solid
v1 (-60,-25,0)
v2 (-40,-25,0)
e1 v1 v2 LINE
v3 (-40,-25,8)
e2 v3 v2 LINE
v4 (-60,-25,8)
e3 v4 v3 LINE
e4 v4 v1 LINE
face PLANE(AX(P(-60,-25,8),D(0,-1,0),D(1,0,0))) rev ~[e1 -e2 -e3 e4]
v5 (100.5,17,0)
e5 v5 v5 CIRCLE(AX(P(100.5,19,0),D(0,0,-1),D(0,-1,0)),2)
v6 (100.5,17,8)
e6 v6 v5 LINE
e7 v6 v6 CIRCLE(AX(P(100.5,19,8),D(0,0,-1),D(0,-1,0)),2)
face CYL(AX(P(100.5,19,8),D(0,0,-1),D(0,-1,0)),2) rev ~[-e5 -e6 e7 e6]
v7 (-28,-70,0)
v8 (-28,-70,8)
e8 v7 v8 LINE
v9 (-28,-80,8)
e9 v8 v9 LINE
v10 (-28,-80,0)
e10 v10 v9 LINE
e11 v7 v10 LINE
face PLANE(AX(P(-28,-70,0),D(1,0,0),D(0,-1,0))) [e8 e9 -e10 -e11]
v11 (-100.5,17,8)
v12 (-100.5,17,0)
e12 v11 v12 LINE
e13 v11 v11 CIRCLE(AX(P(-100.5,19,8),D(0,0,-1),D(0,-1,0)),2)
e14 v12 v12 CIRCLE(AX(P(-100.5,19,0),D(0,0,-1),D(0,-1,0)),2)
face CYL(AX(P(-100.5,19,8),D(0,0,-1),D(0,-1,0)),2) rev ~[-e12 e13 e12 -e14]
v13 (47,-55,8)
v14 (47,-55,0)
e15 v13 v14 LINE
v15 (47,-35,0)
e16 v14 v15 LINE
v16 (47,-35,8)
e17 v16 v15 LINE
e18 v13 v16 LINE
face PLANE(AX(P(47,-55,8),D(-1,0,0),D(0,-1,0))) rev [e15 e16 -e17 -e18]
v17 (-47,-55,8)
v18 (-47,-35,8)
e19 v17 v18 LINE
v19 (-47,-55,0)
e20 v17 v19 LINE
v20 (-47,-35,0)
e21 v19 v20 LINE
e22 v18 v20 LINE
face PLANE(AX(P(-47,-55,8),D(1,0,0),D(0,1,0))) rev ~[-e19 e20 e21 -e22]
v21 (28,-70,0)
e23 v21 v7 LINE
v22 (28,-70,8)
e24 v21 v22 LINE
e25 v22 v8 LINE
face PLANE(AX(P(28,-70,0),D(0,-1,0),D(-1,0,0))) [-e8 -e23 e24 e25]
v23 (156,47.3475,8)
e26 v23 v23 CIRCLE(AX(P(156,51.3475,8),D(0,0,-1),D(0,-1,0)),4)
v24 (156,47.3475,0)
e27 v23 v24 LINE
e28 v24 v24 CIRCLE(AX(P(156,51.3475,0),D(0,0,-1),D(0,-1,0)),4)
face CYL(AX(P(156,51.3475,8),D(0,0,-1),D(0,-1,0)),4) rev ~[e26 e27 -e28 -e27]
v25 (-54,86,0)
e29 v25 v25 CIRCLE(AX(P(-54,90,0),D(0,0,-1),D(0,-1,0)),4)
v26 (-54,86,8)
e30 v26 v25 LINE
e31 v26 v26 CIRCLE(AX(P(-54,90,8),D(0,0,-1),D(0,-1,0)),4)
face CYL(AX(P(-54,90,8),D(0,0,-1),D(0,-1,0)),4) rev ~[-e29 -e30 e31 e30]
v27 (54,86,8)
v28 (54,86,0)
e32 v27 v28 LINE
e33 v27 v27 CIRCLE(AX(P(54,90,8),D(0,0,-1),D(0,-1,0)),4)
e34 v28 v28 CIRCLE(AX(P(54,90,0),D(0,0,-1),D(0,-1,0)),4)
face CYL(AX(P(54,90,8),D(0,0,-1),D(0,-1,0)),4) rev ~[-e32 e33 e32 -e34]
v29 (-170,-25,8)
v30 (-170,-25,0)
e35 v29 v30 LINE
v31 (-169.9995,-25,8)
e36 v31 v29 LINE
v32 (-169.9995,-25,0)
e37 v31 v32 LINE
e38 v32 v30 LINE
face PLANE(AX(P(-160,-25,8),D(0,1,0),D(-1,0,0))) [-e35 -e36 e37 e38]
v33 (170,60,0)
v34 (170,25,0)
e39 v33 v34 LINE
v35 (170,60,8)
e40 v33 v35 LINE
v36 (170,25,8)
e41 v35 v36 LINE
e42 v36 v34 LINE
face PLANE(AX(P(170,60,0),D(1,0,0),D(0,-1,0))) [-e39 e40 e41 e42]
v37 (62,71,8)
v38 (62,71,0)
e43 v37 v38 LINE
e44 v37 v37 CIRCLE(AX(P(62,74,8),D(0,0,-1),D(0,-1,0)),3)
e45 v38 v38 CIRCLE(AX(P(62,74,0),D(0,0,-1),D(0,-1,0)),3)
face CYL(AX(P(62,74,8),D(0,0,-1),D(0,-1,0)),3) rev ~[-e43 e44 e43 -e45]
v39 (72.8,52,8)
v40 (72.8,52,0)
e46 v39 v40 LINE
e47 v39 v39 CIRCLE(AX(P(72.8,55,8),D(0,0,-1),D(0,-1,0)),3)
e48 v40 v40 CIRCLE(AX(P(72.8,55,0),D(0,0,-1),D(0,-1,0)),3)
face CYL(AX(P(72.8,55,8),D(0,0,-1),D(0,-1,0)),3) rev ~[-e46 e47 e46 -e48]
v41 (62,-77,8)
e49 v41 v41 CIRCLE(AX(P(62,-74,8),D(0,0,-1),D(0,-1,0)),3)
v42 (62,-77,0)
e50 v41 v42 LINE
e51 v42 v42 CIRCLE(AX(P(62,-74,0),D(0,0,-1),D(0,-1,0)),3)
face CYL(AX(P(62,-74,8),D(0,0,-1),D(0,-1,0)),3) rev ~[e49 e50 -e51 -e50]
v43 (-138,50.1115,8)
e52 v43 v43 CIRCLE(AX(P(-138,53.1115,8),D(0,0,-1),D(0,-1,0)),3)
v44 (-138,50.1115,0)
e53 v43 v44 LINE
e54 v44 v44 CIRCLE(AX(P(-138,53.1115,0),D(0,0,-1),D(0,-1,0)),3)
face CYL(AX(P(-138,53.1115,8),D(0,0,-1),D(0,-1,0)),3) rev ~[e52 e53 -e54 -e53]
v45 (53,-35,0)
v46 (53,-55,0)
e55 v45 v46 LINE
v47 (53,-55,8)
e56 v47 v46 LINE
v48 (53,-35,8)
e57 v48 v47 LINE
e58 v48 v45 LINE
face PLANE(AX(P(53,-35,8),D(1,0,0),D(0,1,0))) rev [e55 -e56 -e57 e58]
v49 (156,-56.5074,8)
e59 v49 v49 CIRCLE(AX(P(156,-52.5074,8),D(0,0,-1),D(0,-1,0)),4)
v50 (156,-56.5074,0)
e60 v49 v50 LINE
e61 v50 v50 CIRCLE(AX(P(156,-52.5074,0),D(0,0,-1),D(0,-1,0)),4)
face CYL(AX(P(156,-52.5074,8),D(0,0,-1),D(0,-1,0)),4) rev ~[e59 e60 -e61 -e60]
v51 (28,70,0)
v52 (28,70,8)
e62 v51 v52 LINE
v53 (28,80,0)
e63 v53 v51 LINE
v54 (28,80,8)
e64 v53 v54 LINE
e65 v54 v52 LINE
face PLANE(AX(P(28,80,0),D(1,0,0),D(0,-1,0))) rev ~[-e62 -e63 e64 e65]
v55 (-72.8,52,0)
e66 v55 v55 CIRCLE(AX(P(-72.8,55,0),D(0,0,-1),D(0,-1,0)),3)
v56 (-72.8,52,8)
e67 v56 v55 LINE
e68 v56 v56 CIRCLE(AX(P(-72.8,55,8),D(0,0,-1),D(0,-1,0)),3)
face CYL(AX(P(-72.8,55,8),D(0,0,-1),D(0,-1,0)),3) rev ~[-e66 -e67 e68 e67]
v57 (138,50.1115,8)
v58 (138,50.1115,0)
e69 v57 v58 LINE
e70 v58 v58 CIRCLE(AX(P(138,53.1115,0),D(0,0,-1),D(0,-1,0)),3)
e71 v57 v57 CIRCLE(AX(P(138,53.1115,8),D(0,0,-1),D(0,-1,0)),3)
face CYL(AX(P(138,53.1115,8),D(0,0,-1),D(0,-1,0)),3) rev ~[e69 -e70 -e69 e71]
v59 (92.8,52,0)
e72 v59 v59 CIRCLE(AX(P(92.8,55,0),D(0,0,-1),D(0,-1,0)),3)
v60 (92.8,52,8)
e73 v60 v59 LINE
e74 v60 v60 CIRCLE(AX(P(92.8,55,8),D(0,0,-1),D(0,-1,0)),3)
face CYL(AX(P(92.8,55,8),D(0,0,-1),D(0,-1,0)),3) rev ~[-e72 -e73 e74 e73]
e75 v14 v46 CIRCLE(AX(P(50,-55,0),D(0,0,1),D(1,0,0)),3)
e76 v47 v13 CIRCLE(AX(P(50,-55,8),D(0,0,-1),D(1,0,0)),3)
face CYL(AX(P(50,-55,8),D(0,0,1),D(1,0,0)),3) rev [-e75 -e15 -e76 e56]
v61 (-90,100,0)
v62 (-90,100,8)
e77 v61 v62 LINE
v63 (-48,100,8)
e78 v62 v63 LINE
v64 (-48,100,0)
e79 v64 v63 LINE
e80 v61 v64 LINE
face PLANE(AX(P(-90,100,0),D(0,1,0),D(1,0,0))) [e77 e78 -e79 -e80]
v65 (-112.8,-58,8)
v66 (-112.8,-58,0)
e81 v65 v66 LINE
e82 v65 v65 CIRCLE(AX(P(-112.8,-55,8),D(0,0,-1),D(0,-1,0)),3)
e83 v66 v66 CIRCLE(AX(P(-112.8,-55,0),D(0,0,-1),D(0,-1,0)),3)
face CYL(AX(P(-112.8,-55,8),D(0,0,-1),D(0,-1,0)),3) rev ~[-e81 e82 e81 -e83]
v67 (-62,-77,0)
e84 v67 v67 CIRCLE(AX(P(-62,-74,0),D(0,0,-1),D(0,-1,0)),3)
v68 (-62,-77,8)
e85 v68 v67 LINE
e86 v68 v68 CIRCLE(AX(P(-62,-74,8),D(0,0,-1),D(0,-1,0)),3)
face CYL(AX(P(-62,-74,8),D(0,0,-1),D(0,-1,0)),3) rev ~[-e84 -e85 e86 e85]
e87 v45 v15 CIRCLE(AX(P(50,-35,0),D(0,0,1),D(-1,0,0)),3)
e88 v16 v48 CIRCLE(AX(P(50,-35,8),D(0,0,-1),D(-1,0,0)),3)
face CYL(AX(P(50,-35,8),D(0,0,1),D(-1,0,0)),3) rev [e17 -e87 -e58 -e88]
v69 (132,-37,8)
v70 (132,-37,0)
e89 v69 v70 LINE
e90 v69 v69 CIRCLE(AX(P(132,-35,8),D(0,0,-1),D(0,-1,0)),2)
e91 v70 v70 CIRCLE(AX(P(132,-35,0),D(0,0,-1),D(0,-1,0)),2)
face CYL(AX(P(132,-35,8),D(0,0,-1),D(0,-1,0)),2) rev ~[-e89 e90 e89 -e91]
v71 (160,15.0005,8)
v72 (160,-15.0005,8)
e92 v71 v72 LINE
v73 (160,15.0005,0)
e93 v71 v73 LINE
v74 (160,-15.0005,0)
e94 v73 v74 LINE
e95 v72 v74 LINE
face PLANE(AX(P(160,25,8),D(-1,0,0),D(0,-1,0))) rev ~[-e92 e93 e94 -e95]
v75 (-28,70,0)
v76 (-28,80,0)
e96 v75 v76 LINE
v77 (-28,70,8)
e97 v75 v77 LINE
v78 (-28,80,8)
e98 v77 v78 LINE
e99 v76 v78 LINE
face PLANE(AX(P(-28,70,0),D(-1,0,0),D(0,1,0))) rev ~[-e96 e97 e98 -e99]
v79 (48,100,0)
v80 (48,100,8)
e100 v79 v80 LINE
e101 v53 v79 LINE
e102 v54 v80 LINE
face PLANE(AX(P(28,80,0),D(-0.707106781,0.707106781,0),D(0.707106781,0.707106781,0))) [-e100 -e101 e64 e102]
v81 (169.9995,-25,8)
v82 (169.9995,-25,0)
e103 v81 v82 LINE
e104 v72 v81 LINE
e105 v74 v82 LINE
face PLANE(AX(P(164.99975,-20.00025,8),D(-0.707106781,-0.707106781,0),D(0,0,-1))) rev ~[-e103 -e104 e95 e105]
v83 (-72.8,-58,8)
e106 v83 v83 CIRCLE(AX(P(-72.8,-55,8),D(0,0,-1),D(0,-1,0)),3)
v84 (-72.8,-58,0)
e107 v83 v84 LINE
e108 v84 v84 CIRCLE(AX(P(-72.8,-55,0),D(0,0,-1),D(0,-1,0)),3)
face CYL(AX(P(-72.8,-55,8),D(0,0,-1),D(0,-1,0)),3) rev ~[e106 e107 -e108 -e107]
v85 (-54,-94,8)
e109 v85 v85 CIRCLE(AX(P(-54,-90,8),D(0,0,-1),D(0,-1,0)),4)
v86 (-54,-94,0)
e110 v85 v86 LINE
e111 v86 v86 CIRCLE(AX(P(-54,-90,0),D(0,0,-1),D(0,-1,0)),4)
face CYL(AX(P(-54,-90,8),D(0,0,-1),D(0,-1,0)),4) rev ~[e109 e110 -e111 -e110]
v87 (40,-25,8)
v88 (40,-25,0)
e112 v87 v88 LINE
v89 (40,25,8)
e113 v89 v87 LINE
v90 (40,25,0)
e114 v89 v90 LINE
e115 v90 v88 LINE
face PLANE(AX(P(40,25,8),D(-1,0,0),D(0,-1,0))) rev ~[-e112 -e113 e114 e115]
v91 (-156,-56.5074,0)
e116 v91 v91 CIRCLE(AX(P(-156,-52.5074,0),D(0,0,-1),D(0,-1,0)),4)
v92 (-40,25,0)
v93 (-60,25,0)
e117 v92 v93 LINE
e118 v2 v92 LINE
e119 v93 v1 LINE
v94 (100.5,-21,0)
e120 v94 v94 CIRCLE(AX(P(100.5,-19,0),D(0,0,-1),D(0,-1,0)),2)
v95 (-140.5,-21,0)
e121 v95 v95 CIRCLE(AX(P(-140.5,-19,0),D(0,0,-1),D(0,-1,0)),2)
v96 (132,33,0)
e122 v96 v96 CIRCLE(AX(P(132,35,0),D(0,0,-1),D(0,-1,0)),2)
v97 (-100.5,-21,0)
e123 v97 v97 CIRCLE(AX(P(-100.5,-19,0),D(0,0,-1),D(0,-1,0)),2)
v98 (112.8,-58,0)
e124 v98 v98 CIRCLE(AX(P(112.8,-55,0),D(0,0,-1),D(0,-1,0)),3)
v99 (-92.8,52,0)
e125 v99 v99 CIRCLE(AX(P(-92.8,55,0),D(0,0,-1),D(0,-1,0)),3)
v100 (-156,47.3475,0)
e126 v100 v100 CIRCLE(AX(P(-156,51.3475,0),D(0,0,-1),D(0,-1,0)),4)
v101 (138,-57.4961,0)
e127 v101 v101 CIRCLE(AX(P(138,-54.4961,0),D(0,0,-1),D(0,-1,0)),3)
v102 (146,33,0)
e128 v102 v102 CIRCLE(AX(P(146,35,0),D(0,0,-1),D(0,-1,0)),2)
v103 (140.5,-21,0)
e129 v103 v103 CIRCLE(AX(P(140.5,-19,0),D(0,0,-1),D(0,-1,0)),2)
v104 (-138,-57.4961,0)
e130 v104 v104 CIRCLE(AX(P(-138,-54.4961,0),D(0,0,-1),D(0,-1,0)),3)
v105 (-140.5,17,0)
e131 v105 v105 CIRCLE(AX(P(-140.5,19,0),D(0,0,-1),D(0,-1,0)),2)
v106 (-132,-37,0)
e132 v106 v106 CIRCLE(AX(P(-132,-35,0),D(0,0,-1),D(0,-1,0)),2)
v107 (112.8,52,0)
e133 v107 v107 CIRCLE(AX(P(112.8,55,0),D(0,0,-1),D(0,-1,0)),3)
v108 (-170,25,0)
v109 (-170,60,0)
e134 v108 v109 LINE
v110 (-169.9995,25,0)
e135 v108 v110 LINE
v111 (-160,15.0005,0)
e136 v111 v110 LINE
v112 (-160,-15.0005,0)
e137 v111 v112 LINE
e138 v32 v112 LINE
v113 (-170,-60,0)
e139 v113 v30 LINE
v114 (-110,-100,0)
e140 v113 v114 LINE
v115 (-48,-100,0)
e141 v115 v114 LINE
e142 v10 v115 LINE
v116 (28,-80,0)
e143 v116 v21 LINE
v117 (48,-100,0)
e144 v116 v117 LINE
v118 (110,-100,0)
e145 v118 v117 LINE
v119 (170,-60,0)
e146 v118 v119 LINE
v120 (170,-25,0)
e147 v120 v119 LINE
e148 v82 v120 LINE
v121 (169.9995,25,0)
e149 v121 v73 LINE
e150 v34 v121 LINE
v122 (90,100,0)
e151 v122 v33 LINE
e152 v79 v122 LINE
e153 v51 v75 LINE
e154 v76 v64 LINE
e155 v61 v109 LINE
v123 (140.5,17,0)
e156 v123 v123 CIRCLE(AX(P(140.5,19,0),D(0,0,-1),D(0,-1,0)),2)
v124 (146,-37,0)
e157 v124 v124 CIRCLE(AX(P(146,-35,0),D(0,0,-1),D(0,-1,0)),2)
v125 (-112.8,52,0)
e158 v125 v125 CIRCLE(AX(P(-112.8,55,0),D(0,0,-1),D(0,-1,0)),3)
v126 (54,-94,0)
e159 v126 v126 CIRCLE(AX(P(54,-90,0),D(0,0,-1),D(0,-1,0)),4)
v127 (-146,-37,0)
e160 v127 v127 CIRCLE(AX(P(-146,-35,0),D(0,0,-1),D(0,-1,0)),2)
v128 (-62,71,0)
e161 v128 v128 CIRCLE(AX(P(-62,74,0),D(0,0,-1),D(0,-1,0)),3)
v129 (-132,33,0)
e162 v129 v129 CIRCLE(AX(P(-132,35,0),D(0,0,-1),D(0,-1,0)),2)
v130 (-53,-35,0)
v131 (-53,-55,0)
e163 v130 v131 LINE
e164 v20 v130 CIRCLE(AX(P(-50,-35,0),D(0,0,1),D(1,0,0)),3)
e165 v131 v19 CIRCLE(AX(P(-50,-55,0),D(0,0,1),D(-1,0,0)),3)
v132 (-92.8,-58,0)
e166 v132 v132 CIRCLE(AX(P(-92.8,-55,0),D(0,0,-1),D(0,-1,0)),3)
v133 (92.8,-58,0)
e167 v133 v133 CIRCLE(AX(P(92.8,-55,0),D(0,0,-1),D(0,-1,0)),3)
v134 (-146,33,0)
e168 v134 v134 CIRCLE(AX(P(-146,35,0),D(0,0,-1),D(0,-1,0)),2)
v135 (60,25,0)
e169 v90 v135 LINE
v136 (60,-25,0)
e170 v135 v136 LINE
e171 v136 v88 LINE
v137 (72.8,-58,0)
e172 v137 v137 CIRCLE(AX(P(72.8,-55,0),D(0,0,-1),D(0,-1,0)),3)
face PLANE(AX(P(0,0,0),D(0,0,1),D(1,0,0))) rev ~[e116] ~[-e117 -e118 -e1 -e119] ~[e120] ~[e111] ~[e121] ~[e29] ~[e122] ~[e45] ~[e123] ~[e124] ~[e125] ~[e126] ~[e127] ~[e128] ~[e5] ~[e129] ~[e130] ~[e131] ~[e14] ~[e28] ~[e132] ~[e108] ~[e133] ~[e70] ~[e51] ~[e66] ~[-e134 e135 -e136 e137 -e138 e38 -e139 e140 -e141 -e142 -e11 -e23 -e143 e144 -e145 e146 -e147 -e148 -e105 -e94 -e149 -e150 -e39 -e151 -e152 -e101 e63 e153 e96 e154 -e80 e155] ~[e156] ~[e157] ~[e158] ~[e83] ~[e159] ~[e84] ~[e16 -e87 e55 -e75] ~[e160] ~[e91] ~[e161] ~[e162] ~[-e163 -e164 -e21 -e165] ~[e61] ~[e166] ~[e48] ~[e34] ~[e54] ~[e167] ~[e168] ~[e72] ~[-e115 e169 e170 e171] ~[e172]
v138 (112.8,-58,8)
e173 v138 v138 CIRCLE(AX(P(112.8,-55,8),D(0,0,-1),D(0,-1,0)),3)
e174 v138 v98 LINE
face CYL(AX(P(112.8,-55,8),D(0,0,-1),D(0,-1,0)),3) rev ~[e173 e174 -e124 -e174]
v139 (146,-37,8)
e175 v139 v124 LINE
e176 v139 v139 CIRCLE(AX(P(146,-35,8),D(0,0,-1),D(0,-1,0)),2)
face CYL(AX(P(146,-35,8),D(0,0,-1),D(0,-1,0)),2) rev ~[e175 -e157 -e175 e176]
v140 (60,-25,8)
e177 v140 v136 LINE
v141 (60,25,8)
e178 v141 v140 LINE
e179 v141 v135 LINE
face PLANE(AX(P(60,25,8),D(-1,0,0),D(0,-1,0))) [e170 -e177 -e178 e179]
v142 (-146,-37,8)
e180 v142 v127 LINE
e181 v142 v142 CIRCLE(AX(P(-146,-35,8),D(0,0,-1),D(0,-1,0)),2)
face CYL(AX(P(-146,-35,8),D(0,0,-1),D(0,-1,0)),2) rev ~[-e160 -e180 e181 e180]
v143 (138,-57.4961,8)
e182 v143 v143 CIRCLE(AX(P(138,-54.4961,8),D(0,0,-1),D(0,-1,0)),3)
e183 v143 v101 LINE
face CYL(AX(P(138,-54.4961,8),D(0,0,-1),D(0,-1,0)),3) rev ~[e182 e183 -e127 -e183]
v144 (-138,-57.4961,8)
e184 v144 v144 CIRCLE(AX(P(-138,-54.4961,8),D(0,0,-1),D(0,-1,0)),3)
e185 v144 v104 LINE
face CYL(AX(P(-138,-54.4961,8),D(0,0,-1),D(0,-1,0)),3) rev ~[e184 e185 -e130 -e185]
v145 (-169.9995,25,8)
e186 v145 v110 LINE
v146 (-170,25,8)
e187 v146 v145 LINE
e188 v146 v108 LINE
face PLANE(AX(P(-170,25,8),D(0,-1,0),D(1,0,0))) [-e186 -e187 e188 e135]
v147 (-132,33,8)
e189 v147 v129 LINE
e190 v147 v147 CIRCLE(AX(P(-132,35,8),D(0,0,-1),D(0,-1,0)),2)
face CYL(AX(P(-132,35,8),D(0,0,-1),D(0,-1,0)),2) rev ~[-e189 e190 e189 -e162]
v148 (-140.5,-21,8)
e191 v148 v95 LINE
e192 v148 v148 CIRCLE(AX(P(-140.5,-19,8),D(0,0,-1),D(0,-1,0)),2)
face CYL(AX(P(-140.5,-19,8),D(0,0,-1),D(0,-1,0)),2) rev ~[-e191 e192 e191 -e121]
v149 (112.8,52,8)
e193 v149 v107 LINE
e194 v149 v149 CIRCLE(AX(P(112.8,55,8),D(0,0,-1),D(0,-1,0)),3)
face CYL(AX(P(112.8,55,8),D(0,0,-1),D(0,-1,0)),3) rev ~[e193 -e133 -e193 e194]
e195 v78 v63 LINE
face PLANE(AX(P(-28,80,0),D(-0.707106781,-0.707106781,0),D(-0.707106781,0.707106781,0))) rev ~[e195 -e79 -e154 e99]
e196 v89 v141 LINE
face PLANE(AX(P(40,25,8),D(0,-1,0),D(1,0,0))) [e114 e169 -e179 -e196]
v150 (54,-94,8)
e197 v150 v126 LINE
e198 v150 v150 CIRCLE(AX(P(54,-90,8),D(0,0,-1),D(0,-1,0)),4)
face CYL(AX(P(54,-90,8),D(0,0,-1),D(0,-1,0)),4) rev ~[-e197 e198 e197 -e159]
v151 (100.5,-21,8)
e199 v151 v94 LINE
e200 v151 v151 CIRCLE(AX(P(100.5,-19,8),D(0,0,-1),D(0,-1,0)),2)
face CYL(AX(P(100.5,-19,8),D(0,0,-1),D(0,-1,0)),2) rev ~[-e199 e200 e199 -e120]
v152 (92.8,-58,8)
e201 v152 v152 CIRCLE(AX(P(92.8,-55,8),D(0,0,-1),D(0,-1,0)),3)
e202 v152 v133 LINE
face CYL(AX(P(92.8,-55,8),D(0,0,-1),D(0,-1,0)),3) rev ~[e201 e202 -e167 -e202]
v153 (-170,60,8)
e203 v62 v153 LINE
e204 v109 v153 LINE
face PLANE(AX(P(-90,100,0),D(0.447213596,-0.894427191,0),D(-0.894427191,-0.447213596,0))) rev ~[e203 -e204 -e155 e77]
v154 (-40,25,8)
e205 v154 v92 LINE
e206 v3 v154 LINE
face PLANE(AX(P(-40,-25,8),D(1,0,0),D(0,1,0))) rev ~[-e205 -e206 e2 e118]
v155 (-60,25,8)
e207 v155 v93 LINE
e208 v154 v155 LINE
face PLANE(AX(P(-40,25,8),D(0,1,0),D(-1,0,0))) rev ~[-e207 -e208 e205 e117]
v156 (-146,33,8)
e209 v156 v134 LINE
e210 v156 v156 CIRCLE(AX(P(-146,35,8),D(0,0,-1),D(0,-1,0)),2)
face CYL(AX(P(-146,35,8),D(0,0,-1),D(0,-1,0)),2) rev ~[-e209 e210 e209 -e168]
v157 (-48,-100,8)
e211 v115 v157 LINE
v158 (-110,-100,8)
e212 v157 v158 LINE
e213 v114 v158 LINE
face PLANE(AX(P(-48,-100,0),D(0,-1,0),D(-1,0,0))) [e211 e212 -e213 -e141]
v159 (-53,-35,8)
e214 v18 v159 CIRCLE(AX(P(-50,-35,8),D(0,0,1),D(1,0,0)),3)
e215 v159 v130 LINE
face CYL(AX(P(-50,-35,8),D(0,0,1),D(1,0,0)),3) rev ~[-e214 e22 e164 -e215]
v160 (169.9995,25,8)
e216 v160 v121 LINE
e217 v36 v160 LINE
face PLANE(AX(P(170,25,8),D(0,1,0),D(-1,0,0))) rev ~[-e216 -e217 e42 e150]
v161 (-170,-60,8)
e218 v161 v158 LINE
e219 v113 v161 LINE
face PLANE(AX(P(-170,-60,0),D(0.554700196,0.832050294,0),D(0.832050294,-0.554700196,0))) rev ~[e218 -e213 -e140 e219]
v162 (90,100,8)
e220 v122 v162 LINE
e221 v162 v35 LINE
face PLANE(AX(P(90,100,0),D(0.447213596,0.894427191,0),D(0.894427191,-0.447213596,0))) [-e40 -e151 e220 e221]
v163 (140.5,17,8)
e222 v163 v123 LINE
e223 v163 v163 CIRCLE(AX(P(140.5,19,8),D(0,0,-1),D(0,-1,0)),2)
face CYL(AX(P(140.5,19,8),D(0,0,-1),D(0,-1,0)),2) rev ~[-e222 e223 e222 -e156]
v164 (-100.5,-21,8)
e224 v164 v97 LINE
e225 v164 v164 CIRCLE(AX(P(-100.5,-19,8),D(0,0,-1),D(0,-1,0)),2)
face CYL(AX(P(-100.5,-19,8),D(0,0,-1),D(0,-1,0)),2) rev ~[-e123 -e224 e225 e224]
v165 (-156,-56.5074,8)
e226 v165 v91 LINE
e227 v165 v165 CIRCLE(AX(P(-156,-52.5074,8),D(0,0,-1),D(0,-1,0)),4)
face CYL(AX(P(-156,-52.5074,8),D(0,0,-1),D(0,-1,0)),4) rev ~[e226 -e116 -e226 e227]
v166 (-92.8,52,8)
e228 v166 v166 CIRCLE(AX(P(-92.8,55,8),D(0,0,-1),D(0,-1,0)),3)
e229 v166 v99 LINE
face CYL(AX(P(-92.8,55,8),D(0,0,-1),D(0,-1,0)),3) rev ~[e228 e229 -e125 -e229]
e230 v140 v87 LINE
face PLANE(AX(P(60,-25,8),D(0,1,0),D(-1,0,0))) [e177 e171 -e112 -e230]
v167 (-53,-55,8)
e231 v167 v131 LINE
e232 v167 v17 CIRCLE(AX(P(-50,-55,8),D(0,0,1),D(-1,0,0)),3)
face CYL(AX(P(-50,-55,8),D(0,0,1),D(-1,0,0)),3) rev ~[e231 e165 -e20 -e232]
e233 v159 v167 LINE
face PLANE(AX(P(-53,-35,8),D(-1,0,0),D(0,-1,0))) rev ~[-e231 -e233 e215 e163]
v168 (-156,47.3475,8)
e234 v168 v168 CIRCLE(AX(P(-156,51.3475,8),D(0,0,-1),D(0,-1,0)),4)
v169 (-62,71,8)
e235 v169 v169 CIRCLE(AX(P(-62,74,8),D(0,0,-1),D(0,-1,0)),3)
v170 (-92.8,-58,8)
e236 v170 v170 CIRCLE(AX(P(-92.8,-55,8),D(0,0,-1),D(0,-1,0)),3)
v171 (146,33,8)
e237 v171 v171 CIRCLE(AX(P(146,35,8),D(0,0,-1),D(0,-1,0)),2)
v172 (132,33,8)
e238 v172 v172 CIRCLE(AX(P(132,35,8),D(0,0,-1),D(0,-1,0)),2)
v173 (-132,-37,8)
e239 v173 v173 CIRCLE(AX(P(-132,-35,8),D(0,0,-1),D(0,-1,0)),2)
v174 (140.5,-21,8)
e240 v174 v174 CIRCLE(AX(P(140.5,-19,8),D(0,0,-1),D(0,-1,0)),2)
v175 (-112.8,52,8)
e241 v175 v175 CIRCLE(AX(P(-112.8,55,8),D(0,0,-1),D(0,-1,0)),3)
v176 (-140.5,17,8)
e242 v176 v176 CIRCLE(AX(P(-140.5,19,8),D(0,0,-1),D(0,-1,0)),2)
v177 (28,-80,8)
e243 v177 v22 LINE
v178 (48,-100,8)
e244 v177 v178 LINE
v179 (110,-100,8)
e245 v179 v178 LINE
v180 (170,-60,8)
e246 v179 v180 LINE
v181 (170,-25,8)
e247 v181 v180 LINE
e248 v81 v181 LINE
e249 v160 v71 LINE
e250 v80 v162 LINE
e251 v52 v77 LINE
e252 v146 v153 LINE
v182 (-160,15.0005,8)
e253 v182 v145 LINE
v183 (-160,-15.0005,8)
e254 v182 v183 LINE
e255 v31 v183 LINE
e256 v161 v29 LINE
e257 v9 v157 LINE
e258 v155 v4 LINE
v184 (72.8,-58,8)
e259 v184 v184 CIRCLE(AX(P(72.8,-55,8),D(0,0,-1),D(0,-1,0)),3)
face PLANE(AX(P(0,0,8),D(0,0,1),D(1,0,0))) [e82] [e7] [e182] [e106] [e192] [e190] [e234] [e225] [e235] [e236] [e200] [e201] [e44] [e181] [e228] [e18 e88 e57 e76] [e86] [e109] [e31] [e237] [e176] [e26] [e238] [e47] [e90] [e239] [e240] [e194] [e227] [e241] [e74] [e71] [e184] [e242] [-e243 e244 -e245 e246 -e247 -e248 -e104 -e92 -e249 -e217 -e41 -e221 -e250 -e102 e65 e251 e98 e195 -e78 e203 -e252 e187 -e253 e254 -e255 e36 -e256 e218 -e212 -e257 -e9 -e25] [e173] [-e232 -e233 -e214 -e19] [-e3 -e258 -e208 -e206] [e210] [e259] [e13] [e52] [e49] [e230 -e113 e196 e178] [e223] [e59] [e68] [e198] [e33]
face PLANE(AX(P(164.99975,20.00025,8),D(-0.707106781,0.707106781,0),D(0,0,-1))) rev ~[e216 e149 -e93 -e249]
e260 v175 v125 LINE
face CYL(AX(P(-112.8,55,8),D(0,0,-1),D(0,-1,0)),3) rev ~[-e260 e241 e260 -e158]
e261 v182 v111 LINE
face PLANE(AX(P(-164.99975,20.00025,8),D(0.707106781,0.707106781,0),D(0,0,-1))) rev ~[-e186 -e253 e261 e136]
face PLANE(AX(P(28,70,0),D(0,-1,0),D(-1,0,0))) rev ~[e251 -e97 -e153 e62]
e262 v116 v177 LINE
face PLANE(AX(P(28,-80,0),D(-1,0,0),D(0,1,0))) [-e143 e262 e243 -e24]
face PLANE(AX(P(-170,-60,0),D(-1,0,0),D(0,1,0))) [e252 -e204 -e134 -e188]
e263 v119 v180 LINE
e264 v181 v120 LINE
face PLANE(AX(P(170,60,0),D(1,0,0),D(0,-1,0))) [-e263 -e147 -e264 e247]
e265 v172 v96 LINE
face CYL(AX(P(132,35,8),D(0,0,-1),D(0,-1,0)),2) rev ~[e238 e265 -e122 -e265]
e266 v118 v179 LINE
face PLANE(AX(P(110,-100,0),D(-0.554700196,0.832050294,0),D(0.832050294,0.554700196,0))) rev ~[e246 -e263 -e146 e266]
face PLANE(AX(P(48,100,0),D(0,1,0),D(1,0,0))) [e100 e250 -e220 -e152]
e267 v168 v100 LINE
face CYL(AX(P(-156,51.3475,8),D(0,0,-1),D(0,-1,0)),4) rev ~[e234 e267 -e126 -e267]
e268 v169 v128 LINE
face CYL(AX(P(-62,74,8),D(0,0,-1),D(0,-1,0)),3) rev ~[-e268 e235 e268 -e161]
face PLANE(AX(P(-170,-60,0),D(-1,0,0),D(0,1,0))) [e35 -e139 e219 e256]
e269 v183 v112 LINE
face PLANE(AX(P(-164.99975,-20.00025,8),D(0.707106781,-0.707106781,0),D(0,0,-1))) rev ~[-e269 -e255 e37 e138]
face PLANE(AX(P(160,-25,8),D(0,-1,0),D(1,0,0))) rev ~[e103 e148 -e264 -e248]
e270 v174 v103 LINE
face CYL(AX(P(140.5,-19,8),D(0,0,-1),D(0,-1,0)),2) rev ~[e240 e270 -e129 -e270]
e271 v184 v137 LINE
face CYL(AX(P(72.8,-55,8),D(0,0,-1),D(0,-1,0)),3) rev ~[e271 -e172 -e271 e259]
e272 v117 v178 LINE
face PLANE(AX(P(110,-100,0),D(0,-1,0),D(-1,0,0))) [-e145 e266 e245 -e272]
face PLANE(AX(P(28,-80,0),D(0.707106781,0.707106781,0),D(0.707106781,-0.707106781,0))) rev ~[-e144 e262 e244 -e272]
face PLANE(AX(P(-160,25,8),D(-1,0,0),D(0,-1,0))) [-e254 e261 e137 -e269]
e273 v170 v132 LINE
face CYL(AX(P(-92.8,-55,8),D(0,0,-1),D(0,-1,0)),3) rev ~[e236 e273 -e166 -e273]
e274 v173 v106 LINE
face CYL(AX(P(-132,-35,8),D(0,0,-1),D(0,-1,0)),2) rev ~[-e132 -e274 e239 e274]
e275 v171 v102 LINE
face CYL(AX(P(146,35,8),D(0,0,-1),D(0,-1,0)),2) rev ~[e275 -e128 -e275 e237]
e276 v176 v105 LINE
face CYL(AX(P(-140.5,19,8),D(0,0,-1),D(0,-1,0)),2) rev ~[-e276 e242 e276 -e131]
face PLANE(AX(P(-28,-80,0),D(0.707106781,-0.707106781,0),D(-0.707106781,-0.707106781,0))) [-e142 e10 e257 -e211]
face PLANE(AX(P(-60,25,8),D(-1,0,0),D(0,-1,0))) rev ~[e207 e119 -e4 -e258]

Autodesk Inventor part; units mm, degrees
ref_plane "YZ Plane" through (0, 0, 0) normal (1, 0, 0) x (0, 1, 0)
ref_plane "XZ Plane" through (0, 0, 0) normal (0, 1, 0) x (-1, 0, 0)
ref_plane "XY Plane" through (0, 0, 0) normal (0, 0, 1) x (1, 0, 0)
sketch "Esquisse1" plane through (0, 0, 0) normal (0, 0, 1) x (1, 0, 0)
  line L0 (-170, -60) -> (-170, 60)
  line L1 (170, 60) -> (170, -60)
  line L2 (170, -100) -> (-170, 100) construction
  line L3 (-170, -100) -> (170, 100) construction
  line L4 (-90, 100) -> (-170, 60)
  line L5 (90, 100) -> (170, 60)
  line L6 (-170, -60) -> (-110, -100)
  line L7 (110, -100) -> (170, -60)
  line L8 (48, 100) -> (90, 100)
  line L9 (52, 0) -> (-69, 0)
  line L10 (28, -80) -> (28, -70)
  line L11 (28, -70) -> (-28, -70)
  line L12 (-28, -70) -> (-28, -80)
  line L13 (-28, -80) -> (-48, -100)
  line L14 (28, -80) -> (48, -100)
  line L15 (110, -100) -> (48, -100)
  line L16 (-48, -100) -> (-110, -100)
  line L17 (-28, 70) -> (-28, 80)
  line L18 (-28, 80) -> (-48, 100)
  line L19 (28, 70) -> (-28, 70)
  line L20 (28, 80) -> (28, 70)
  line L21 (28, 80) -> (48, 100)
  line L22 (-90, 100) -> (-48, 100)
  line L23 (48, 100) -> (90, 100)
  point P0 (0, 0)
  dimension "d2" = 80
  dimension "d3" = 40
  dimension "d4" = 80
  dimension "d5" = 40
  dimension "d6" = 40
  dimension "d7" = 60
  dimension "d8" = 60
  dimension "d9" = 40
extrude "Plaque" add sketch "Esquisse1" along normal blind 8
sketch "Esquisse2" plane through (0, 0, 8) normal (0, 0, 1) x (1, 0, 0)
  circle A0 centre (-146, 35) radius 2
  circle A1 centre (-132, 35) radius 2
  circle A2 centre (-146, -35) radius 2
  circle A3 centre (-132, -35) radius 2
  line L0 (-170, 60) -> (-170, -60) projected
  line L1 (0, 25.5561) -> (0, -26.1527)
  circle A4 centre (146, 35) radius 2
  circle A5 centre (132, 35) radius 2
  circle A6 centre (146, -35) radius 2
  circle A7 centre (132, -35) radius 2
  point P0 (0, 0)
  dimension "d12" = 4
  dimension "d13" = 4
  dimension "d14" = 4
  dimension "d15" = 4
  dimension "d16" = 14
  dimension "d17" = 14
  dimension "d18" = 24
  dimension "d19" = 24
  dimension "d20" = 35
  dimension "d21" = 35
  dimension "d22" = 35
  dimension "d23" = 35
hole "Fixation_Encodeur" at (-132, 35, 8) at (-146, 35, 8) at (-146, -35, 8) at (-132, -35, 8) at (132, 35, 8) at (146, 35, 8) at (146, -35, 8) at (132, -35, 8) direction (0, 0, -1) diameter 4 end through all
sketch "Esquisse3" plane through (0, 0, 8) normal (0, 0, 1) x (1, 0, 0)
  line L0 (-140.5, -19) -> (-100.5, -19)
  line L1 (-100.5, -19) -> (-100.5, 19)
  line L2 (-100.5, 19) -> (-140.5, 19)
  line L3 (-140.5, 19) -> (-140.5, -19)
  line L4 (-140.5, -19) -> (-100.5, 19) construction
  line L5 (-100.5, -19) -> (-140.5, 19) construction
  line L6 (-90, 100) -> (-170, 60) projected
  line L7 (-170, 60) -> (-170, -60) projected
  line L8 (-170, -60) -> (-110, -100) projected
  line L9 (48, -100) -> (110, -100) projected
  line L10 (110, -100) -> (170, -60) projected
  line L11 (170, -60) -> (170, 60) projected
  line L12 (170, 60) -> (90, 100) projected
  line L13 (-48, 100) -> (-90, 100) projected
  line L14 (0, 102.1518) -> (0, -90)
  line L15 (140.5, -19) -> (100.5, -19)
  line L16 (100.5, -19) -> (100.5, 19)
  line L17 (100.5, 19) -> (140.5, 19)
  line L18 (140.5, 19) -> (140.5, -19)
  line L19 (140.5, -19) -> (100.5, 19) construction
  line L20 (100.5, -19) -> (140.5, 19) construction
  line L21 (-110, -100) -> (-48, -100) projected
  line L22 (-48, -100) -> (-28, -80) projected
  line L23 (-28, -80) -> (-28, -70) projected
  line L24 (-28, -70) -> (28, -70) projected
  line L25 (28, -70) -> (28, -80) projected
  line L26 (28, -80) -> (48, -100) projected
  line L27 (90, 100) -> (48, 100) projected
  line L28 (48, 100) -> (28, 80) projected
  line L29 (28, 80) -> (28, 70) projected
  line L30 (28, 70) -> (-28, 70) projected
  line L31 (-28, 70) -> (-28, 80) projected
  line L32 (-28, 80) -> (-48, 100) projected
  point P0 (0, 0)
  point P1 (-120.5, 0)
  point P2 (120.5, 0)
  dimension "d31" = 29.5
  dimension "d32" = 40
  dimension "d33" = 38
  dimension "d53" = 19
hole "Fixation_Moteur" at (-140.5, 19, 8) at (-100.5, 19, 8) at (-100.5, -19, 8) at (-140.5, -19, 8) at (140.5, 19, 8) at (140.5, -19, 8) at (100.5, 19, 8) at (100.5, -19, 8) direction (0, 0, -1) diameter 4 end through all
sketch "Esquisse4" plane through (0, 0, 8) normal (0, 0, 1) x (1, 0, 0)
  line L0 (-60, -25) -> (-40, -25)
  line L1 (-60, 25) -> (-60, -25)
  line L2 (-60, -25) -> (-39.915, 7.067) construction
  circle A0 centre (100.5, 19) radius 2 projected
  circle A1 centre (140.5, 19) radius 2 projected
  circle A2 centre (-100.5, -19) radius 2 projected
  circle A3 centre (-140.5, 19) radius 2 projected
  circle A4 centre (-100.5, 19) radius 2 projected
  circle A5 centre (-140.5, -19) radius 2 projected
  circle A6 centre (140.5, -19) radius 2 projected
  circle A7 centre (100.5, -19) radius 2 projected
  line L3 (-90, 100) -> (-170, 60) projected
  line L4 (-170, 60) -> (-170, -60) projected
  line L5 (-170, -60) -> (-110, -100) projected
  line L6 (48, -100) -> (110, -100) projected
  line L7 (110, -100) -> (170, -60) projected
  line L8 (170, -60) -> (170, 60) projected
  line L9 (170, 60) -> (90, 100) projected
  line L10 (-48, 100) -> (-90, 100) projected
  line L11 (40, 25) -> (60, 25)
  line L12 (60, 25) -> (60, -25)
  line L13 (60, -25) -> (40, -10.6364) construction
  line L14 (40, 25) -> (40, -25)
  line L15 (-40, -25) -> (-40, 25)
  line L16 (-40, 25) -> (-60, 25)
  line L17 (-39.915, 7.067) -> (-60, 25) construction
  line L18 (40, 10.0232) -> (60, 25) construction
  line L19 (60, -25) -> (40, -25)
  line L20 (-110, -100) -> (-48, -100) projected
  line L21 (-48, -100) -> (-28, -80) projected
  line L22 (-28, -80) -> (-28, -70) projected
  line L23 (-28, -70) -> (28, -70) projected
  line L24 (28, -70) -> (28, -80) projected
  line L25 (28, -80) -> (48, -100) projected
  line L26 (90, 100) -> (48, 100) projected
  line L27 (48, 100) -> (28, 80) projected
  line L28 (28, 80) -> (28, 70) projected
  line L29 (28, 70) -> (-28, 70) projected
  line L30 (-28, 70) -> (-28, 80) projected
  line L31 (-28, 80) -> (-48, 100) projected
  point P0 (-39.915, 7.067)
  dimension "d50" = 110
  dimension "d157" = 110
  dimension "d158" = 20
  dimension "d159" = 20
extrude "Passage_Courroie" cut sketch "Esquisse4" against normal up to surface (8 mm away) contours L1 L16 L15 L0 | L11 L12 L19 L14
sketch "Esquisse5" plane through (0, 0, 8) normal (0, 0, 1) x (1, 0, 0)
  line L0 (0, 30.4597) -> (0, -30.4597)
  line L1 (-17.5456, 0) -> (17.5456, 0)
  line L2 (-80, 40) -> (-80, -40)
  line L3 (-80, -40) -> (-110, -40)
  line L4 (-110, 30) -> (-110, 40)
  line L5 (-110, 40) -> (-80, 40)
  line L6 (-88, 90) -> (-142, 63)
  line L7 (-142, 63) -> (-142, 30)
  line L8 (-142, 30) -> (-110, 30)
  line L9 (-110, -30) -> (-142, -30)
  line L10 (-142, -30) -> (-142, -63)
  line L11 (-142, -63) -> (-102, -90)
  line L12 (-102, -90) -> (-44, -90)
  line L13 (-44, -90) -> (-34, -80)
  line L14 (-34, -80) -> (-34, 80)
  line L15 (-34, 80) -> (-44, 90)
  line L16 (-44, 90) -> (-88, 90)
  line L17 (-110, -40) -> (-110, -30)
  circle A0 centre (-134, -35) radius 2
  circle A1 centre (-134, 35) radius 2
  circle A2 centre (-120, 35) radius 2
  circle A3 centre (-120, -35) radius 2
  line L18 (-88, 90) -> (-142, 63)
  line L19 (-142, 63) -> (-142, 30)
  line L20 (-142, 30) -> (-110, 30)
  line L21 (-110, 30) -> (-110, 40)
  line L22 (-110, 40) -> (-80, 40)
  line L23 (-80, 40) -> (-80, -40)
  line L24 (-80, -40) -> (-110, -40)
  line L25 (-110, -40) -> (-110, -30)
  line L26 (-110, -30) -> (-142, -30)
  line L27 (-142, -30) -> (-142, -63)
  line L28 (-142, -63) -> (-102, -90)
  line L29 (-102, -90) -> (-44, -90)
  line L30 (-44, -90) -> (-34, -80)
  line L31 (-34, -80) -> (-34, 80)
  line L32 (-34, 80) -> (-44, 90)
  line L33 (-44, 90) -> (-88, 90)
  line L34 (-138, 53.1115) -> (-96.2229, 74)
  line L35 (-96.2229, 74) -> (-62, 74)
  line L36 (-62, 74) -> (-62, -74)
  line L37 (-62, -74) -> (-109.1054, -74)
  line L38 (-109.1054, -74) -> (-138, -54.4961)
  line L39 (96.2229, 74) -> (62, 74)
  line L40 (138, 53.1115) -> (96.2229, 74)
  line L41 (62, -74) -> (109.1054, -74)
  line L42 (109.1054, -74) -> (138, -54.4961)
  line L43 (-170, 60) -> (-170, -60) projected
  point P0 (0, 0)
  point P1 (72.8, -55)
  point P2 (92.8, -55)
  point P3 (112.8, -55)
  point P4 (-72.8, -55)
  point P5 (-92.8, -55)
  point P6 (-112.8, -55)
  point P7 (72.8, 55)
  point P8 (92.8, 55)
  point P9 (112.8, 55)
  point P10 (-72.8, 55)
  point P11 (-92.8, 55)
  point P12 (-112.8, 55)
  point P13 (0, 0)
  dimension "d174" = 10.6334
  dimension "d175" = 47.1054
  dimension "d176" = 34.2229
  dimension "d177" = 41.7771
  dimension "d178" = 28.8946
  dimension "d179" = 32
  dimension "d180" = 32
  dimension "d198" = 55
  dimension "d199" = 55
  dimension "d200" = 55
hole "Fixation_Base" at (72.8, -55, 8) at (92.8, -55, 8) at (112.8, -55, 8) at (-112.8, 55, 8) at (-72.8, 55, 8) at (-92.8, 55, 8) at (-112.8, -55, 8) at (-92.8, -55, 8) at (-72.8, -55, 8) at (72.8, 55, 8) at (92.8, 55, 8) at (112.8, 55, 8) at (138, 53.1115, 8) at (62, 74, 8) at (138, -54.4961, 8) at (62, -74, 8) at (-62, -74, 8) at (-138, -54.4961, 8) at (-138, 53.1115, 8) at (-62, 74, 8) direction (0, 0, -1) diameter 6 end through all
sketch "Esquisse7" plane through (0, 0, 8) normal (0, 0, 1) x (1, 0, 0)
  line L0 (-54, 90) -> (54, 90)
  line L1 (-156, 0) -> (156, 0)
  line L2 (-170, 60) -> (-170, -60) projected
  line L3 (170, -60) -> (170, 60) projected
  line L4 (-110, -100) -> (110, -100) projected
  line L5 (-48, 100) -> (-90, 100) projected
  line L6 (-156, 0) -> (-156, 51.3475)
  line L7 (-156, 0) -> (-156, -52.5074)
  line L8 (156, 0) -> (156, 51.3475)
  line L9 (156, 0) -> (156, -52.5074)
  line L10 (-90, 100) -> (-170, 60) projected
  line L11 (170, 60) -> (90, 100) projected
  line L12 (110, -100) -> (170, -60) projected
  line L13 (-170, -60) -> (-110, -100) projected
  point P0 (0, 0)
  point P1 (-54, -90)
  point P2 (54, -90)
  dimension "d88" = 14
  dimension "d89" = 14
  dimension "d93" = 10
  dimension "d94" = 108
  dimension "d95" = 54
  dimension "d123" = 108
  dimension "d124" = 10
  dimension "d125" = 10
  dimension "d126" = 56
  dimension "d160" = 56
  dimension "d181" = 14
  dimension "d182" = 14
  dimension "d186" = 14
  dimension "d187" = 14
hole "Fixation_Etage3" at (-54, 90, 8) at (-54, -90, 8) at (54, -90, 8) at (54, 90, 8) at (-156, 51.3475, 8) at (-156, -52.5074, 8) at (156, 51.3475, 8) at (156, -52.5074, 8) direction (0, 0, -1) diameter 8 end through all
sketch "Esquisse8" plane through (0, 0, 8) normal (0, 0, 1) x (1, 0, 0)
  line L0 (-160, -25) -> (-170, -25)
  line L1 (-170, -25) -> (-170, 25)
  line L2 (-170, 25) -> (-160, 25)
  line L3 (-160, 25) -> (-160, -25)
  line L4 (-160, -25) -> (-170, 25) construction
  line L5 (-170, -25) -> (-160, 25) construction
  line L6 (0, 43.7993) -> (0, -83.0015)
  line L7 (160, -25) -> (170, -25)
  line L8 (170, -25) -> (170, 25)
  line L9 (170, 25) -> (160, 25)
  line L10 (160, 25) -> (160, -25)
  line L11 (160, -25) -> (170, 25) construction
  line L12 (170, -25) -> (160, 25) construction
  point P0 (0, 0)
  point P1 (-165, 0)
  point P2 (165, 0)
  dimension "d106" = 50
  dimension "d107" = 10
  dimension "d108" = 160
  dimension "d191" = 25
extrude "Passage_Encodeur" cut sketch "Esquisse8" against normal up to surface (8 mm away)
chamfer "Chanfrein1" distance 10 angle 45 4 edges at (-160, 25, 4) (-160, -25, 4) (160, 25, 4) (160, -25, 4)
sketch "Esquisse10" plane through (0, 0, 8) normal (0, 0, 1) x (1, 0, 0)
  line L0 (-50, -35) -> (-50, -55) construction
  line L1 (-53, -35) -> (-53, -55)
  line L2 (-47, -55) -> (-47, -35)
  arc A0 (-47, -35) -> (-53, -35) centre (-50, -35) ccw
  arc A1 (-53, -55) -> (-47, -55) centre (-50, -55) ccw
  line L3 (-40, -25) -> (-60, -25) projected
  point P0 (0, 0)
  point P1 (-50, -45)
  dimension "d192" = 10
  dimension "d193" = 20
  dimension "d194" = 3
  dimension "d195" = 10
extrude "Extrusion4" cut sketch "Esquisse10" against normal blind 10
mirror "Symétrie1" about plane through (0, 0, 0) normal (1, 0, 0) of "Extrusion4"
properties part number "Support_Moteur"
